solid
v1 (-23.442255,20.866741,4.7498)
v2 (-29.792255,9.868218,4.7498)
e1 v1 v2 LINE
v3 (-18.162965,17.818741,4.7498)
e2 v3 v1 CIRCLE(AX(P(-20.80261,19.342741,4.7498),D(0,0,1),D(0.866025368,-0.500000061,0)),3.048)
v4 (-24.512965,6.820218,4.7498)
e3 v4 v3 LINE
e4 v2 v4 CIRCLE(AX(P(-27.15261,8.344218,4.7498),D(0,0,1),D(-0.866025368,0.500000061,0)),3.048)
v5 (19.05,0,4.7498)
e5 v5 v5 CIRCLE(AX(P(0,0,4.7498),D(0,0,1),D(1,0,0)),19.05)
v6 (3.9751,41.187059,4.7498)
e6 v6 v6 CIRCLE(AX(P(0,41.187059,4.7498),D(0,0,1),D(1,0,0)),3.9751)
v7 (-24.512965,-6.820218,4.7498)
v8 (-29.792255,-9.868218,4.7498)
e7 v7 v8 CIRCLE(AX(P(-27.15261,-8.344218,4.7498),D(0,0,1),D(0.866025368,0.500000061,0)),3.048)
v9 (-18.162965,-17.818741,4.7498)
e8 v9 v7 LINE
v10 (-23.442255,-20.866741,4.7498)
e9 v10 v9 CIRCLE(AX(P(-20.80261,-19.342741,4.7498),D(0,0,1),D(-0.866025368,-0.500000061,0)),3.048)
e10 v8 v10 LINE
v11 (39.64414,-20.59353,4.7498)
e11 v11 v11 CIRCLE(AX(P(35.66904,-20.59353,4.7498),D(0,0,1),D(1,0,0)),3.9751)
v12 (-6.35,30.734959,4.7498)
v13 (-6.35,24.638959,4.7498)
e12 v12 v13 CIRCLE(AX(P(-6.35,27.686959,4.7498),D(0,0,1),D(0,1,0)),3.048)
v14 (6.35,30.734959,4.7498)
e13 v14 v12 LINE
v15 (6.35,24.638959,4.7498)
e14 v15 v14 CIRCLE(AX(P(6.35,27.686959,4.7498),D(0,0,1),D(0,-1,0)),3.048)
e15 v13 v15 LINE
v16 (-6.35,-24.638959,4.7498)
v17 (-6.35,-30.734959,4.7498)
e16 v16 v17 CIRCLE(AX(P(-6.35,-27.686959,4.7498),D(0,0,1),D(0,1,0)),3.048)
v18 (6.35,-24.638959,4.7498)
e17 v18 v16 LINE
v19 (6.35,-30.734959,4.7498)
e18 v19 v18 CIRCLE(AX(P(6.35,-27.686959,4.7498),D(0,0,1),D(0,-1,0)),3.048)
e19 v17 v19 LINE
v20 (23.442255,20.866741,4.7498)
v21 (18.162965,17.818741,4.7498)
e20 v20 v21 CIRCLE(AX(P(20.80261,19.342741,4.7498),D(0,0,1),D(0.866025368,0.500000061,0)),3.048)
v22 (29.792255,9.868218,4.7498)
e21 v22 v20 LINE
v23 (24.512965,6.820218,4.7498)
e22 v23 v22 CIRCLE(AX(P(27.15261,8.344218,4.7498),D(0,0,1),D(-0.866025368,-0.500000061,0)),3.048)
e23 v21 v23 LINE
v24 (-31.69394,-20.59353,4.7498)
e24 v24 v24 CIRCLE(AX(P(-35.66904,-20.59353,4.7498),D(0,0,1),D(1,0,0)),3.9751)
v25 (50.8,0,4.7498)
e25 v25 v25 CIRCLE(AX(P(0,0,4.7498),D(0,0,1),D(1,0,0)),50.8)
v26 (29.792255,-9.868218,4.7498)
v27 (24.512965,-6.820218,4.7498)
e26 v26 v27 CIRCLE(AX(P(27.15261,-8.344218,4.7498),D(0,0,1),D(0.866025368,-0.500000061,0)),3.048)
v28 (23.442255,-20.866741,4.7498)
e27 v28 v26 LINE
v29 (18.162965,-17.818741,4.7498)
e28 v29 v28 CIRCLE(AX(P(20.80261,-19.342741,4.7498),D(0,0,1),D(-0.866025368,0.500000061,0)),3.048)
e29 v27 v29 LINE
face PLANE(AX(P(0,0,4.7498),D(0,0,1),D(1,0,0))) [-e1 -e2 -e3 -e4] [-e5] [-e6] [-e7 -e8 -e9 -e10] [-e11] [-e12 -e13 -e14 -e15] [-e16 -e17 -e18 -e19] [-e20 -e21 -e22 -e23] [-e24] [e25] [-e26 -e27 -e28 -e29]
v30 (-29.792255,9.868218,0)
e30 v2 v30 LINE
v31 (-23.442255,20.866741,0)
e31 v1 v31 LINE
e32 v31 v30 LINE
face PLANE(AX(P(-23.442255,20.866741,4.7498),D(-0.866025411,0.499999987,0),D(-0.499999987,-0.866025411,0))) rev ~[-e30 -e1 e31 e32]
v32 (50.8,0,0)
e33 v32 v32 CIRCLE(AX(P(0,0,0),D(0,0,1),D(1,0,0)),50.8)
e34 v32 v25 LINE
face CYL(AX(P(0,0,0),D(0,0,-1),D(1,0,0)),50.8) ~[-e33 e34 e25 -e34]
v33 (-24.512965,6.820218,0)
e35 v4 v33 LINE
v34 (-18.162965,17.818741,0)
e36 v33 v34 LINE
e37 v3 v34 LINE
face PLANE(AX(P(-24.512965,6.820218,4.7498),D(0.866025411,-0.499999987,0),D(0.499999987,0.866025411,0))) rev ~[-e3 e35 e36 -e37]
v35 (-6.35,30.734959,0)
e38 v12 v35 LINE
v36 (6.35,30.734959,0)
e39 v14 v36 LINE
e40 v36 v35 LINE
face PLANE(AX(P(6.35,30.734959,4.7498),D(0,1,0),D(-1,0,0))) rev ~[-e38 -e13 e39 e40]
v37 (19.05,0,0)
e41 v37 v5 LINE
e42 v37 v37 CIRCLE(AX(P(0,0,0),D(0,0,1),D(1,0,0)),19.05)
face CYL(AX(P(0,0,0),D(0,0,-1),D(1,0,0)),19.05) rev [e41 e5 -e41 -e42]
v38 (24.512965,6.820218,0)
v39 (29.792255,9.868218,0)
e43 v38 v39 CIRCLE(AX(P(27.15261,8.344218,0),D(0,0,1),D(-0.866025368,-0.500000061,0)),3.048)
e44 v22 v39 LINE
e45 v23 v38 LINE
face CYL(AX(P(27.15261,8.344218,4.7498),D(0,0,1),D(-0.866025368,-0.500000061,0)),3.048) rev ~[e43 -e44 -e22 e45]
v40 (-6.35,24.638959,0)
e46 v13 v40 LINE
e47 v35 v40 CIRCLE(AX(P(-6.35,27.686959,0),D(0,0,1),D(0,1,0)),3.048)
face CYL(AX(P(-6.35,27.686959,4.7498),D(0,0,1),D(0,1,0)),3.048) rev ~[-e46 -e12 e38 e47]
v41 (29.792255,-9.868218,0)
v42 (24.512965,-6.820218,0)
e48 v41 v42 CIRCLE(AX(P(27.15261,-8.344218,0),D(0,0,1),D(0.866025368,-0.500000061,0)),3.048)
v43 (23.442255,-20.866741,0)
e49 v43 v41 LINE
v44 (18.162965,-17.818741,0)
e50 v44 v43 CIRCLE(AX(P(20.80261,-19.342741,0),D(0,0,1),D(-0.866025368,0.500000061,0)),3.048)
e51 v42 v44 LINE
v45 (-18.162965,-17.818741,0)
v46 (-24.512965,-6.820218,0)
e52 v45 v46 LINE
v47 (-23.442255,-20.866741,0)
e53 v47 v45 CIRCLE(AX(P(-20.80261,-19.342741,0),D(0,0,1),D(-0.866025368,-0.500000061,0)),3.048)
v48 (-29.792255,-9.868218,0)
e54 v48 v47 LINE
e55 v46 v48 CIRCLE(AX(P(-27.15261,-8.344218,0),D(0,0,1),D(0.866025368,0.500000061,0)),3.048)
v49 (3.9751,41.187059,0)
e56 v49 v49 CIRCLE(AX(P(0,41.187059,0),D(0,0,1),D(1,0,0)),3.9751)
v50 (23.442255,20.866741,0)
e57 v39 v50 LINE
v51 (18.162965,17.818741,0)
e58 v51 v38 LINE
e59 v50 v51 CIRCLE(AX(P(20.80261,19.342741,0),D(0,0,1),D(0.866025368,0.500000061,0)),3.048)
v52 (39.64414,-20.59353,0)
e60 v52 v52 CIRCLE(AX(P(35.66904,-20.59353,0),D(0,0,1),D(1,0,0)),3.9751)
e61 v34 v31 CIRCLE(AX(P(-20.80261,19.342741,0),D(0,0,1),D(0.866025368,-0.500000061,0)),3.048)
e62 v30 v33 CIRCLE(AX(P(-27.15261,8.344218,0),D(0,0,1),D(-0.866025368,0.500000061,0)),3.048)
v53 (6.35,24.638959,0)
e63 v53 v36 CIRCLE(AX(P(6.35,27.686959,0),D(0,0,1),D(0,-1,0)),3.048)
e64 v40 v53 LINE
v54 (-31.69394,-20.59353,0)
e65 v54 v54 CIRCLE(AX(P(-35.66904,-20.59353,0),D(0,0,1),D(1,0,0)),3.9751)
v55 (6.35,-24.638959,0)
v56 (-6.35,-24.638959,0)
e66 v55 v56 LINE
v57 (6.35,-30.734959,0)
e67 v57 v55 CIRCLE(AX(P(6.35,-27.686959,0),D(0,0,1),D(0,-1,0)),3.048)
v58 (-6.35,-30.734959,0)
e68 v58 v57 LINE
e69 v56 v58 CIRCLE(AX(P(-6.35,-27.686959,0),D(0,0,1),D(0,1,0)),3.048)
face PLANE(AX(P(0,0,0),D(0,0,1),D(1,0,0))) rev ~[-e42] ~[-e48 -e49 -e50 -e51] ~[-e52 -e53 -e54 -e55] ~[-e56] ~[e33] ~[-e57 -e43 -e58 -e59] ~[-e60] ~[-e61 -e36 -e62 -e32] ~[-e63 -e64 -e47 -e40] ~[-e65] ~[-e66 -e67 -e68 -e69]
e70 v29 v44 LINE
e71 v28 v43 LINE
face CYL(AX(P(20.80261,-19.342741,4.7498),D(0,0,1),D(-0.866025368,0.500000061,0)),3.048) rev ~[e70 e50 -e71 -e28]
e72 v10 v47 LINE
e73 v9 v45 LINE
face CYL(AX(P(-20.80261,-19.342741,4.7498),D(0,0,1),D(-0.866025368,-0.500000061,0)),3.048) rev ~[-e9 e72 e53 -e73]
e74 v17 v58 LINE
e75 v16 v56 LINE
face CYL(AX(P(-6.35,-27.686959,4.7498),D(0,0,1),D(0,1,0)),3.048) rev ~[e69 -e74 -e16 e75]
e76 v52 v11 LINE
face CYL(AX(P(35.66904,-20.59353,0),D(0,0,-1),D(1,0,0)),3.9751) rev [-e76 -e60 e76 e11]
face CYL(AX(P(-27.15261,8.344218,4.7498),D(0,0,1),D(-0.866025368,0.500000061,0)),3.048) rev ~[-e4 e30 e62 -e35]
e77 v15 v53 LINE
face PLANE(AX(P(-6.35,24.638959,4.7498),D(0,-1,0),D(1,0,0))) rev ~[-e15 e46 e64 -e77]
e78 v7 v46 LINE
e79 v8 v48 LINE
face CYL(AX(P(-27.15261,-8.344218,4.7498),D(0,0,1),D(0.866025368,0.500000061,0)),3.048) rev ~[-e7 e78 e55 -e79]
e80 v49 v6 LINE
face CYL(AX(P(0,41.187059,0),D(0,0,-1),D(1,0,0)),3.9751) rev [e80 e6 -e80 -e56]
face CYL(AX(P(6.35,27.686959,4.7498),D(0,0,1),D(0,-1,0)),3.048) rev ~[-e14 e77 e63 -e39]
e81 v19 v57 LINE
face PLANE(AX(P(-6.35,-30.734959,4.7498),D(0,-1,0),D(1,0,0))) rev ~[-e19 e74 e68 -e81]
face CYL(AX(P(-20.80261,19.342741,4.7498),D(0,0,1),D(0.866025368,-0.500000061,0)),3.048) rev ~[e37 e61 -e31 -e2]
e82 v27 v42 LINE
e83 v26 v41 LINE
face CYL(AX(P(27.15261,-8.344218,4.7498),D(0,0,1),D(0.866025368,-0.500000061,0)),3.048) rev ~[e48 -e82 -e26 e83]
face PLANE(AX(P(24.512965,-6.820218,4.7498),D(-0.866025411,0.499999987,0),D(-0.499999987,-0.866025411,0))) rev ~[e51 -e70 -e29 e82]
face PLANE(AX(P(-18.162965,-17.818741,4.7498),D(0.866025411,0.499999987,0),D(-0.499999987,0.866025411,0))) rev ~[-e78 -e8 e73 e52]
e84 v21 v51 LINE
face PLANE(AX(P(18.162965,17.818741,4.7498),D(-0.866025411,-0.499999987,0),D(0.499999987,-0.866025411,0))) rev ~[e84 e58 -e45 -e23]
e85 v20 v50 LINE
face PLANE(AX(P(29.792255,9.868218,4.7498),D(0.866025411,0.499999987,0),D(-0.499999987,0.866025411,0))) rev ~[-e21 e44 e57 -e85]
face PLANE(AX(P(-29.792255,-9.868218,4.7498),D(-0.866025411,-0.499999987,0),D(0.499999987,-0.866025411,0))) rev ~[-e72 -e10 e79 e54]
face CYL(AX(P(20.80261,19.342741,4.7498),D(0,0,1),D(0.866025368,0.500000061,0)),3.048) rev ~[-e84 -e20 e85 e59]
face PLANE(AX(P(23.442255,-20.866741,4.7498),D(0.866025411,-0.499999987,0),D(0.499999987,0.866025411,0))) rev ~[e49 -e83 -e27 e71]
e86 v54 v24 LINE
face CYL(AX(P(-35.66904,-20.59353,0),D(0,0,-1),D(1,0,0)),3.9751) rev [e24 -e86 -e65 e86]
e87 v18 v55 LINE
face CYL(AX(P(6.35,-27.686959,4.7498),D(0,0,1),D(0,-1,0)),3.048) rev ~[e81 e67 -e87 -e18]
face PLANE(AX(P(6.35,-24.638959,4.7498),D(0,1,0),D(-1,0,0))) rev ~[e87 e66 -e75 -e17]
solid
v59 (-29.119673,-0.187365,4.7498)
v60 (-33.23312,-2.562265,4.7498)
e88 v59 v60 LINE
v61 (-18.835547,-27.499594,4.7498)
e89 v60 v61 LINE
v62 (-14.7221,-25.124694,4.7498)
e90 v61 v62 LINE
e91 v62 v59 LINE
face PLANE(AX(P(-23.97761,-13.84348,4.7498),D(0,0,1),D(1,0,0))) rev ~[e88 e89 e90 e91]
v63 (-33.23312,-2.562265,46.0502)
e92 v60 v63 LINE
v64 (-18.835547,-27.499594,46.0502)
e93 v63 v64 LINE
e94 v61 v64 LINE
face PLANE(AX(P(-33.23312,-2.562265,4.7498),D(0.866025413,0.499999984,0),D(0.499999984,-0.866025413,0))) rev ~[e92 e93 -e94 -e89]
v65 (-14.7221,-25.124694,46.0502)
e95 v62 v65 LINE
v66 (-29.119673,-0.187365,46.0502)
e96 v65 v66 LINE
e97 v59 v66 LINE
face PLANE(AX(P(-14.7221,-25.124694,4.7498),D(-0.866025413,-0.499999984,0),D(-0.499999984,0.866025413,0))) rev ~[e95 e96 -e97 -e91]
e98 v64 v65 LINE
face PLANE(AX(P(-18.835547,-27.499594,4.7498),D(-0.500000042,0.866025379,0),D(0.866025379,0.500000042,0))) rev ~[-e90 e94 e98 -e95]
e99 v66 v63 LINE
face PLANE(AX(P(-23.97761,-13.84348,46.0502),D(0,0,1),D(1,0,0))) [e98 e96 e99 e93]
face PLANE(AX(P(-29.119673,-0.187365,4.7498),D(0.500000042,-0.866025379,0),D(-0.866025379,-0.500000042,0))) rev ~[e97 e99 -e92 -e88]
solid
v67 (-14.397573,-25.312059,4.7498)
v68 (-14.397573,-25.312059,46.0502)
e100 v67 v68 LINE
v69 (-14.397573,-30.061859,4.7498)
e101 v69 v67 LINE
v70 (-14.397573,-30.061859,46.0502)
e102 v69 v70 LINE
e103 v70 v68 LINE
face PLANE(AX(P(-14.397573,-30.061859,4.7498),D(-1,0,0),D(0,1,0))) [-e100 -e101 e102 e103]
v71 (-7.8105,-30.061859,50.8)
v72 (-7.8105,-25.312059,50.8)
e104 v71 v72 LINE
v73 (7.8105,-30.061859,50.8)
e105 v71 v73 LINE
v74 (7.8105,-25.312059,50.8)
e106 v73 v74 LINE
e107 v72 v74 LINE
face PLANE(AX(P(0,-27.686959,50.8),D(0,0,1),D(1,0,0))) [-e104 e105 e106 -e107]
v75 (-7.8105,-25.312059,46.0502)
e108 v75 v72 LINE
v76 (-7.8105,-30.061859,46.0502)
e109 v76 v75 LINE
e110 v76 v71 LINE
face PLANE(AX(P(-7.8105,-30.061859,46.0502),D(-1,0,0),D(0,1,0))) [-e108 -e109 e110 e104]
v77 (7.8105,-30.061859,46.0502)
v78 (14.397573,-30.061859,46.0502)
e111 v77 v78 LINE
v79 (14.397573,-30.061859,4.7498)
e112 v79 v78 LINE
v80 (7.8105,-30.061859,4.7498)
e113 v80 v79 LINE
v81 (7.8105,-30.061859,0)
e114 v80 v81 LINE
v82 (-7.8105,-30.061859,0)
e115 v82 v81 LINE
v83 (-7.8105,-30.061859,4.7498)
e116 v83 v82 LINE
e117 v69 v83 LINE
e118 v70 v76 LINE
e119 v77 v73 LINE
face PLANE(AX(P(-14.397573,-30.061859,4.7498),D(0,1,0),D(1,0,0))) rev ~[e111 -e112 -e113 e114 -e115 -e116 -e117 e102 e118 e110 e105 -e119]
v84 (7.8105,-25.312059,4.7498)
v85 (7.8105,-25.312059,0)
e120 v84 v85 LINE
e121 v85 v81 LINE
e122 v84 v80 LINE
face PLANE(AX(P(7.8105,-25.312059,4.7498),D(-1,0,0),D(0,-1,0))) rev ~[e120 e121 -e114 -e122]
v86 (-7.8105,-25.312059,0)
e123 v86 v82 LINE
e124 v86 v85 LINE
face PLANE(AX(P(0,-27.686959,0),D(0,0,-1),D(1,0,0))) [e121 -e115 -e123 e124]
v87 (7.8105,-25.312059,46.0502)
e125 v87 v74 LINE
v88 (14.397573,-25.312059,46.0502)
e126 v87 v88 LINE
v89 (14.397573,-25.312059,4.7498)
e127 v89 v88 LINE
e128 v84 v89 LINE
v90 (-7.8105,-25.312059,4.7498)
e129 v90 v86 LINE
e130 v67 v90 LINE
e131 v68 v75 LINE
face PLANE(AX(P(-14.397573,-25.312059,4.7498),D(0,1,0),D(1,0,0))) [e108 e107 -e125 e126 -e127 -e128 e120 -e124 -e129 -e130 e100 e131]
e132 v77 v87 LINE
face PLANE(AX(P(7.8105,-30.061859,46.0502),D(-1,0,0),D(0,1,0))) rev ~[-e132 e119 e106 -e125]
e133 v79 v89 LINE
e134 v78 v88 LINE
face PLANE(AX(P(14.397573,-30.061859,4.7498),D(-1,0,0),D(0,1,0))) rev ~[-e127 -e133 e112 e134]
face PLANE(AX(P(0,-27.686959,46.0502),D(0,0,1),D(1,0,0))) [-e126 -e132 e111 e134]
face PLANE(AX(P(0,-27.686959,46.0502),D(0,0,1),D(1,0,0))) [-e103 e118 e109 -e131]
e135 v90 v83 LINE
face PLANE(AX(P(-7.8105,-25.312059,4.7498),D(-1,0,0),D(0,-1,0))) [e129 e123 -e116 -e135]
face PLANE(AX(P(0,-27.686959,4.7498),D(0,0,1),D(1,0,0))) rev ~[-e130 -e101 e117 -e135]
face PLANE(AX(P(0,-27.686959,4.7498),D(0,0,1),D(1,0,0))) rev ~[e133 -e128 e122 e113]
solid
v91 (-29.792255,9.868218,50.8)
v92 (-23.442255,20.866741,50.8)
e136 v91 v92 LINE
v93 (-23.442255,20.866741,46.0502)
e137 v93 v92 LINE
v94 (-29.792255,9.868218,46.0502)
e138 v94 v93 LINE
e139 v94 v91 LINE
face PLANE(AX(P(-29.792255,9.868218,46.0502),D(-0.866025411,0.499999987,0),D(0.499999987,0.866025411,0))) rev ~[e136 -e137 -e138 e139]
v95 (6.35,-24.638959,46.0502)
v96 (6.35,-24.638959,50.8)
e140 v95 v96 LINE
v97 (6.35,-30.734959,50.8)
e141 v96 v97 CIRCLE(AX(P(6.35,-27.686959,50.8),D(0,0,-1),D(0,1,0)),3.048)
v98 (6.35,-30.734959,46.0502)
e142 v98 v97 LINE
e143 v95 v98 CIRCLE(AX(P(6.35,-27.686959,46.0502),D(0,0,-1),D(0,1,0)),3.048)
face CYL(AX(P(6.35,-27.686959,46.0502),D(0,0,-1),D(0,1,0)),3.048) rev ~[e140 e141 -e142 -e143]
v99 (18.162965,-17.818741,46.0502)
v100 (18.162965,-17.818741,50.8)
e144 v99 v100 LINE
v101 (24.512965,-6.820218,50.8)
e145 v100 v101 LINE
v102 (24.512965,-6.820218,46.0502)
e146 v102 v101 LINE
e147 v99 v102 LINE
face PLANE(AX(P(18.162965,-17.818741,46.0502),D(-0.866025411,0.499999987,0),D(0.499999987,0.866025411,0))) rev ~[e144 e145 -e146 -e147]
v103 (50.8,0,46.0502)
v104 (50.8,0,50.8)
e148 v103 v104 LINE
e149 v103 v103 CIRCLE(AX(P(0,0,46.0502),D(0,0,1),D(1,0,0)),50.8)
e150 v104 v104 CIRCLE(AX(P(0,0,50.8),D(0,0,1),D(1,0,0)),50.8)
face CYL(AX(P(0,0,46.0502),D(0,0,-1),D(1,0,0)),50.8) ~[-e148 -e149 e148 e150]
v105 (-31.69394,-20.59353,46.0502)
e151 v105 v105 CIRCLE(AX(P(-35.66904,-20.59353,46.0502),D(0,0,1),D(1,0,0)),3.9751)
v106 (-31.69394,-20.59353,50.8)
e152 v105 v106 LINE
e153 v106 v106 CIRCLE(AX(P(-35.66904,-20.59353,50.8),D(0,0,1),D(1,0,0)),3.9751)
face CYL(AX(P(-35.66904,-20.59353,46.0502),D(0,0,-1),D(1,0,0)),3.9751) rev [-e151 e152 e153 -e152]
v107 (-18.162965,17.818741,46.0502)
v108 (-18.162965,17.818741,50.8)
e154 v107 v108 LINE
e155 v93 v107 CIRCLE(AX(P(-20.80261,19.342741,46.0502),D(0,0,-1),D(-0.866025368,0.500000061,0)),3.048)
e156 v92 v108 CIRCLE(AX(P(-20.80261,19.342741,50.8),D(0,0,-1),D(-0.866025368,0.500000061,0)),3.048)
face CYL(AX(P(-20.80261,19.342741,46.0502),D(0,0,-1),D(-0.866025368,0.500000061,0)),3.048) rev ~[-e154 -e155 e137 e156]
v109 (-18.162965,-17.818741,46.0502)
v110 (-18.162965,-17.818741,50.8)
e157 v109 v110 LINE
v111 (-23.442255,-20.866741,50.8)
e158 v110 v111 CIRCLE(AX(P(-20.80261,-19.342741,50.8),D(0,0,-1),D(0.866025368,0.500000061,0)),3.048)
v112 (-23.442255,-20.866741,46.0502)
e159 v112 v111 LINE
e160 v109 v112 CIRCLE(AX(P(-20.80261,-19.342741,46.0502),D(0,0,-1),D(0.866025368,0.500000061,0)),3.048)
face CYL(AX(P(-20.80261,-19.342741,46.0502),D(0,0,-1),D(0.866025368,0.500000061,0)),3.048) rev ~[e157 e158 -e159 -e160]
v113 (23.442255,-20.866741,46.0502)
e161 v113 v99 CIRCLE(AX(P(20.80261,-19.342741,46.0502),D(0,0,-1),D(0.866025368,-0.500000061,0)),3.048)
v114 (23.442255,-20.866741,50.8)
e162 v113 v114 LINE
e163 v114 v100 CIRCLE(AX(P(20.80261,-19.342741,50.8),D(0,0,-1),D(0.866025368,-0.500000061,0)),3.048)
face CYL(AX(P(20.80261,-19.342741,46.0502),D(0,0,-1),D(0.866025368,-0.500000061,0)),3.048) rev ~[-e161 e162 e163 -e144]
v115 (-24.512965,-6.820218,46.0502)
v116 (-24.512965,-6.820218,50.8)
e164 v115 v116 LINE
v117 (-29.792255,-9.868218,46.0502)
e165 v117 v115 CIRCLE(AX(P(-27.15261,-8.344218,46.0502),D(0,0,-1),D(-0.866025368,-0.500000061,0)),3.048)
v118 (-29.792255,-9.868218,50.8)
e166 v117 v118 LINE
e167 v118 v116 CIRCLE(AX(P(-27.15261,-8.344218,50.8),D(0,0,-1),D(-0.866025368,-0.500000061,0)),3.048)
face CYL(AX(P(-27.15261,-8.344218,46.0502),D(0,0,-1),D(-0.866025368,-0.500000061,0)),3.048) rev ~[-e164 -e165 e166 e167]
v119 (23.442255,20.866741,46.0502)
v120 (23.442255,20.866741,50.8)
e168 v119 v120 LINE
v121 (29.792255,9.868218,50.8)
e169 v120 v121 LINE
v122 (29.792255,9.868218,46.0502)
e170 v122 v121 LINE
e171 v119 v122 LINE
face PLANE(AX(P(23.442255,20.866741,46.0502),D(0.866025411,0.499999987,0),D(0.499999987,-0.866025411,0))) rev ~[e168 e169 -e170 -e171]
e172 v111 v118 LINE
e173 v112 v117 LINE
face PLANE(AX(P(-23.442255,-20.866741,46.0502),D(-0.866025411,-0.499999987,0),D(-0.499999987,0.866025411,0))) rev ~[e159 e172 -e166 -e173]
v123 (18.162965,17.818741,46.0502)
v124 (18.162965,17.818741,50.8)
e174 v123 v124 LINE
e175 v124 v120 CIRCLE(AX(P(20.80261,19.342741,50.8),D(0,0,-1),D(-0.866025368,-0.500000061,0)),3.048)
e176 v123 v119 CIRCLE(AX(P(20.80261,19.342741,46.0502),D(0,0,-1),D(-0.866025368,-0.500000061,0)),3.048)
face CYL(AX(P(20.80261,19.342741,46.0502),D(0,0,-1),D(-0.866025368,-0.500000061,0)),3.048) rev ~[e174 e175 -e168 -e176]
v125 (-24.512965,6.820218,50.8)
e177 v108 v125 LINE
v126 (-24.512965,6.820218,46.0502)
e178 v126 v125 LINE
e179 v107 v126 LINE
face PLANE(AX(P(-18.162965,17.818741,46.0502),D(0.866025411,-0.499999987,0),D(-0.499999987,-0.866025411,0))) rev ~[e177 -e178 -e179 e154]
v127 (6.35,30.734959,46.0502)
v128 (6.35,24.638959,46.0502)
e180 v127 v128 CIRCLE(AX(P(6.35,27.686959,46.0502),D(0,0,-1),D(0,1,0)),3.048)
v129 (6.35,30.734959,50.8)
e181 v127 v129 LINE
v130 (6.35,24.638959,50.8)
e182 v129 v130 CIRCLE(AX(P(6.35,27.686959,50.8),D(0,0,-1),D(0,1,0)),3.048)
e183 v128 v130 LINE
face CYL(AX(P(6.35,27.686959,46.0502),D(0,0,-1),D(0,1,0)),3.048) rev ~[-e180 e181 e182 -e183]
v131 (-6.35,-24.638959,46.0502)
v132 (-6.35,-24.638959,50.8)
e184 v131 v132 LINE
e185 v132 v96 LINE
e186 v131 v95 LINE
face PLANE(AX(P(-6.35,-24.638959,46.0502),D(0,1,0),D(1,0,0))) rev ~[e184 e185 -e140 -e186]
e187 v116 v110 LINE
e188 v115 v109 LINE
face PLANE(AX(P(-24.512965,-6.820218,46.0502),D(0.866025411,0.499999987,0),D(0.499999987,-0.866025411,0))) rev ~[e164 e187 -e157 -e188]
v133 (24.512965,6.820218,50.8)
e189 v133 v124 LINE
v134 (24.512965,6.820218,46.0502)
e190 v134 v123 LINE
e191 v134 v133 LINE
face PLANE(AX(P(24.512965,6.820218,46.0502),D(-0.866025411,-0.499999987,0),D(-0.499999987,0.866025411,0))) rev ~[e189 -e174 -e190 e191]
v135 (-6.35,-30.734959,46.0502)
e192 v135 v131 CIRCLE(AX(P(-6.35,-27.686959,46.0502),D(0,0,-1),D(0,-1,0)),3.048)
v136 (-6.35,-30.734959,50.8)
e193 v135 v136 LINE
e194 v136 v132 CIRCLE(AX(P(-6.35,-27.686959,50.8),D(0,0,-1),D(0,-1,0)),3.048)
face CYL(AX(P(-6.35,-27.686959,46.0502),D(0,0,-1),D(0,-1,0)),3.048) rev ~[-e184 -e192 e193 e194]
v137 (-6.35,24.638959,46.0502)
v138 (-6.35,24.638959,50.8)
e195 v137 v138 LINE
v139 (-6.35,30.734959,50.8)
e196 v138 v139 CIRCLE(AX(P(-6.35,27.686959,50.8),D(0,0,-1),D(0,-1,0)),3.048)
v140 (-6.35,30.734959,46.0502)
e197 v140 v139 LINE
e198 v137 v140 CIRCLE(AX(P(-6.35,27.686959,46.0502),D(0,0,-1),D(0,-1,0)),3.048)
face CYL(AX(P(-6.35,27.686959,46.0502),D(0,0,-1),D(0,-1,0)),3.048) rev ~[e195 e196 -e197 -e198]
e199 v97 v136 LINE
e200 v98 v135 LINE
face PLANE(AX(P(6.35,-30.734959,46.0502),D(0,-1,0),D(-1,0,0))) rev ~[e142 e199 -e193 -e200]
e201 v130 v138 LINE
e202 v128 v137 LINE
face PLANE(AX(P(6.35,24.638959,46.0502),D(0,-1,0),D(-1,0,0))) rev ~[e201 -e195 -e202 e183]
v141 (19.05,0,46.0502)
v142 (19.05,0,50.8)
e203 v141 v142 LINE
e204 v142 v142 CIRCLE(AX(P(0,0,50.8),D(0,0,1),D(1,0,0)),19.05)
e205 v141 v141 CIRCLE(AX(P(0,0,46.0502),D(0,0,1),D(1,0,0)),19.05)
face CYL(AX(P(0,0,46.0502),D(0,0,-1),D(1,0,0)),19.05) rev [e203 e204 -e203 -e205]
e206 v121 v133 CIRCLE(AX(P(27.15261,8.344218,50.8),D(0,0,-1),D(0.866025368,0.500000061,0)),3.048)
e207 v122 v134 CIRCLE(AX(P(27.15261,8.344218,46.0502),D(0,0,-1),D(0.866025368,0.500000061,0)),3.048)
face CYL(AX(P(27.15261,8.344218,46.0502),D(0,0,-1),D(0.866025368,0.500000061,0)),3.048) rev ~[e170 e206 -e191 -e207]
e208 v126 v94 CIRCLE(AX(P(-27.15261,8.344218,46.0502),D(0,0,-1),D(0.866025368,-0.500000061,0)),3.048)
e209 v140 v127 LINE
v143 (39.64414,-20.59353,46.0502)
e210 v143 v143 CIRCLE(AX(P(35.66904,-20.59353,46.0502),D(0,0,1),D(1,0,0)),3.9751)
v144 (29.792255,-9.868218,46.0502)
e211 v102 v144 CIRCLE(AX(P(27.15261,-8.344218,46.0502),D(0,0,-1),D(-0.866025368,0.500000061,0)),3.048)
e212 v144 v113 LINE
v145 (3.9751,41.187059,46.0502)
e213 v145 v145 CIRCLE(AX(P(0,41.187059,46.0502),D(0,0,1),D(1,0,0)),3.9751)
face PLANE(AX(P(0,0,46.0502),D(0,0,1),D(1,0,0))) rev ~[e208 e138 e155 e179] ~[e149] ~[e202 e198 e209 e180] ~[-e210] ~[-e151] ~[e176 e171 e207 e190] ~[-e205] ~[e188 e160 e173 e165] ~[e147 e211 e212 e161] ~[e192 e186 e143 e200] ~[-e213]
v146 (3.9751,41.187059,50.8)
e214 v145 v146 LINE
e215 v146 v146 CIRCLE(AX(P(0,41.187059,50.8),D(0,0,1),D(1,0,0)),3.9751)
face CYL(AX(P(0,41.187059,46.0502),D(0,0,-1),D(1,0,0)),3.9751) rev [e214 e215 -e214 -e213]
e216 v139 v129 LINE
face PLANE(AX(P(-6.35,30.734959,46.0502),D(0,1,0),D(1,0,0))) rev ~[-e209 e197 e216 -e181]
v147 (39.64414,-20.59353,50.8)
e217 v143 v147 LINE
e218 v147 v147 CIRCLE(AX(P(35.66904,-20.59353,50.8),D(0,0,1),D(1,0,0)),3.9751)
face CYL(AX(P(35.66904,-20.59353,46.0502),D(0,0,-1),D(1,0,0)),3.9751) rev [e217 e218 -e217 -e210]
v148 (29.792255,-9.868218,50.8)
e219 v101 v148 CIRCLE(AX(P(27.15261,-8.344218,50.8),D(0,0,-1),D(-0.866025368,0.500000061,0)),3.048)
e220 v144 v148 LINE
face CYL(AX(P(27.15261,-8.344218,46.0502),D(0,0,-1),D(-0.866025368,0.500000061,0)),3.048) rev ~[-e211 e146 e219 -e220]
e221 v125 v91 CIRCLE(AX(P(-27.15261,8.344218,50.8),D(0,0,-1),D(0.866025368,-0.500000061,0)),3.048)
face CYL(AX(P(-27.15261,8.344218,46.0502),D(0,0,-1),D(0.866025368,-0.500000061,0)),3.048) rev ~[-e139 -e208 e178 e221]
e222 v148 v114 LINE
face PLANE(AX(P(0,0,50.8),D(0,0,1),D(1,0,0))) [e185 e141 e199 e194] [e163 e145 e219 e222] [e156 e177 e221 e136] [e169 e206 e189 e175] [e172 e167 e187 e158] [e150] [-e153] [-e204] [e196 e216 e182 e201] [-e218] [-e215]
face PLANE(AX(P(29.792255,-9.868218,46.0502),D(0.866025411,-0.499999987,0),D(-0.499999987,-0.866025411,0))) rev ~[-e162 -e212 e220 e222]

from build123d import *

# Parameters (mm, degrees)
F0_R      = 50.8
F0_R_2    = 3.9751
F0_R_3    = 19.05
F1_DEPTH  = 4.7498
F4_DEPTH  = 25.4
F5_W      = 28.795146
F5_H      = 4.7498
F6_DEPTH  = 41.3004
F7_W      = 15.621
F7_H      = 4.7498
F8_DEPTH  = 4.7498
F9_R      = 50.8
F9_R_2    = 3.9751
F9_R_3    = 19.05
F10_DEPTH = 4.7498
F11_W     = 15.621
F11_H     = 4.7498
F12_DEPTH = 4.7498


with BuildPart() as f1:
    # F0 (on Top) → F1 (new body)
    with BuildSketch(Plane.XY):
        Circle(F0_R)
        with Locations((-35.66904, -20.59353)):
            Circle(F0_R_2, mode=Mode.SUBTRACT)
        Circle(F0_R_3, mode=Mode.SUBTRACT)
        with Locations((35.66904, -20.59353)):
            Circle(F0_R_2, mode=Mode.SUBTRACT)
        with Locations((0, 41.187059)):
            Circle(F0_R_2, mode=Mode.SUBTRACT)
    extrude(amount=F1_DEPTH)

    # F3 (on face) → F4 (cut)
    with BuildSketch(Plane.XY.offset(4.7498)):
        with BuildLine():
            ThreePointArc((-6.35, 30.734959), (-9.398, 27.686959), (-6.35, 24.638959))
            Line((-6.35, 24.638959), (6.35, 24.638959))
            ThreePointArc((6.35, 24.638959), (9.398, 27.686959), (6.35, 30.734959))
            Line((6.35, 30.734959), (-6.35, 30.734959))
        make_face()
        with BuildLine():
            ThreePointArc((24.512965, 6.820218), (28.67661, 5.704573), (29.792255, 9.868218))
            Line((29.792255, 9.868218), (23.442255, 20.866741))
            ThreePointArc((23.442255, 20.866741), (19.27861, 21.982386), (18.162965, 17.818741))
            Line((18.162965, 17.818741), (24.512965, 6.820218))
        make_face()
        with BuildLine():
            ThreePointArc((29.792255, -9.868218), (28.67661, -5.704573), (24.512965, -6.820218))
            Line((24.512965, -6.820218), (18.162965, -17.818741))
            ThreePointArc((18.162965, -17.818741), (19.27861, -21.982386), (23.442255, -20.866741))
            Line((23.442255, -20.866741), (29.792255, -9.868218))
        make_face()
        with BuildLine():
            ThreePointArc((6.35, -30.734959), (9.398, -27.686959), (6.35, -24.638959))
            Line((6.35, -24.638959), (-6.35, -24.638959))
            ThreePointArc((-6.35, -24.638959), (-9.398, -27.686959), (-6.35, -30.734959))
            Line((-6.35, -30.734959), (6.35, -30.734959))
        make_face()
        with BuildLine():
            ThreePointArc((-23.442255, -20.866741), (-19.27861, -21.982386), (-18.162965, -17.818741))
            Line((-18.162965, -17.818741), (-24.512965, -6.820218))
            ThreePointArc((-24.512965, -6.820218), (-28.67661, -5.704573), (-29.792255, -9.868218))
            Line((-29.792255, -9.868218), (-23.442255, -20.866741))
        make_face()
        with BuildLine():
            ThreePointArc((-29.792255, 9.868218), (-28.67661, 5.704573), (-24.512965, 6.820218))
            Line((-24.512965, 6.820218), (-18.162965, 17.818741))
            ThreePointArc((-18.162965, 17.818741), (-19.27861, 21.982386), (-23.442255, 20.866741))
            Line((-23.442255, 20.866741), (-29.792255, 9.868218))
        make_face()
    extrude(amount=-F4_DEPTH, mode=Mode.SUBTRACT)


with BuildPart() as f6:
    # F5 (on face) → F6 (new body)
    with BuildSketch(Plane.XY.offset(4.7498)):
        with Locations((0, -27.686959)):
            Rectangle(F5_W, F5_H)
        Polygon((-18.835547, -27.499594), (-14.7221, -25.124694), (-29.119673, -0.187365), (-33.23312, -2.562265), align=None)
    extrude(amount=F6_DEPTH)

    # F7 (on face) → F8 (join)
    with BuildSketch(Plane(origin=(0, 0, 4.7498), x_dir=(1, 0, 0), z_dir=(0, 0, -1))):
        with Locations((0, 27.686959)):
            Rectangle(F7_W, F7_H)
    extrude(amount=F8_DEPTH)

    # F11 (on face) → F12 (join)
    with BuildSketch(Plane.XY.offset(46.0502)):
        with Locations((0, -27.686959)):
            Rectangle(F11_W, F11_H)
    extrude(amount=F12_DEPTH)


with BuildPart() as f10:
    # F9 (on face) → F10 (new body)
    with BuildSketch(Plane.XY.offset(46.0502)):
        Circle(F9_R)
        with BuildLine():
            ThreePointArc((6.35, -24.638959), (9.398, -27.686959), (6.35, -30.734959))
            Line((6.35, -30.734959), (-6.35, -30.734959))
            ThreePointArc((-6.35, -30.734959), (-9.398, -27.686959), (-6.35, -24.638959))
            Line((-6.35, -24.638959), (6.35, -24.638959))
        make_face(mode=Mode.SUBTRACT)
        with Locations((-35.66904, -20.59353)):
            Circle(F9_R_2, mode=Mode.SUBTRACT)
        with BuildLine():
            Line((-24.512965, -6.820218), (-18.162965, -17.818741))
            ThreePointArc((-18.162965, -17.818741), (-19.27861, -21.982386), (-23.442255, -20.866741))
            Line((-23.442255, -20.866741), (-29.792255, -9.868218))
            ThreePointArc((-29.792255, -9.868218), (-28.67661, -5.704573), (-24.512965, -6.820218))
        make_face(mode=Mode.SUBTRACT)
        Circle(F9_R_3, mode=Mode.SUBTRACT)
        with BuildLine():
            ThreePointArc((24.512965, -6.820218), (28.67661, -5.704573), (29.792255, -9.868218))
            Line((29.792255, -9.868218), (23.442255, -20.866741))
            ThreePointArc((23.442255, -20.866741), (19.27861, -21.982386), (18.162965, -17.818741))
            Line((18.162965, -17.818741), (24.512965, -6.820218))
        make_face(mode=Mode.SUBTRACT)
        with Locations((35.66904, -20.59353)):
            Circle(F9_R_2, mode=Mode.SUBTRACT)
        with BuildLine():
            Line((-29.792255, 9.868218), (-23.442255, 20.866741))
            ThreePointArc((-23.442255, 20.866741), (-19.27861, 21.982386), (-18.162965, 17.818741))
            Line((-18.162965, 17.818741), (-24.512965, 6.820218))
            ThreePointArc((-24.512965, 6.820218), (-28.67661, 5.704573), (-29.792255, 9.868218))
        make_face(mode=Mode.SUBTRACT)
        with BuildLine():
            Line((-6.35, 30.734959), (6.35, 30.734959))
            ThreePointArc((6.35, 30.734959), (9.398, 27.686959), (6.35, 24.638959))
            Line((6.35, 24.638959), (-6.35, 24.638959))
            ThreePointArc((-6.35, 24.638959), (-9.398, 27.686959), (-6.35, 30.734959))
        make_face(mode=Mode.SUBTRACT)
        with Locations((0, 41.187059)):
            Circle(F9_R_2, mode=Mode.SUBTRACT)
        with BuildLine():
            ThreePointArc((29.792255, 9.868218), (28.67661, 5.704573), (24.512965, 6.820218))
            Line((24.512965, 6.820218), (18.162965, 17.818741))
            ThreePointArc((18.162965, 17.818741), (19.27861, 21.982386), (23.442255, 20.866741))
            Line((23.442255, 20.866741), (29.792255, 9.868218))
        make_face(mode=Mode.SUBTRACT)
    extrude(amount=F10_DEPTH)


solid = Compound([f1.part, f6.part, f10.part])
